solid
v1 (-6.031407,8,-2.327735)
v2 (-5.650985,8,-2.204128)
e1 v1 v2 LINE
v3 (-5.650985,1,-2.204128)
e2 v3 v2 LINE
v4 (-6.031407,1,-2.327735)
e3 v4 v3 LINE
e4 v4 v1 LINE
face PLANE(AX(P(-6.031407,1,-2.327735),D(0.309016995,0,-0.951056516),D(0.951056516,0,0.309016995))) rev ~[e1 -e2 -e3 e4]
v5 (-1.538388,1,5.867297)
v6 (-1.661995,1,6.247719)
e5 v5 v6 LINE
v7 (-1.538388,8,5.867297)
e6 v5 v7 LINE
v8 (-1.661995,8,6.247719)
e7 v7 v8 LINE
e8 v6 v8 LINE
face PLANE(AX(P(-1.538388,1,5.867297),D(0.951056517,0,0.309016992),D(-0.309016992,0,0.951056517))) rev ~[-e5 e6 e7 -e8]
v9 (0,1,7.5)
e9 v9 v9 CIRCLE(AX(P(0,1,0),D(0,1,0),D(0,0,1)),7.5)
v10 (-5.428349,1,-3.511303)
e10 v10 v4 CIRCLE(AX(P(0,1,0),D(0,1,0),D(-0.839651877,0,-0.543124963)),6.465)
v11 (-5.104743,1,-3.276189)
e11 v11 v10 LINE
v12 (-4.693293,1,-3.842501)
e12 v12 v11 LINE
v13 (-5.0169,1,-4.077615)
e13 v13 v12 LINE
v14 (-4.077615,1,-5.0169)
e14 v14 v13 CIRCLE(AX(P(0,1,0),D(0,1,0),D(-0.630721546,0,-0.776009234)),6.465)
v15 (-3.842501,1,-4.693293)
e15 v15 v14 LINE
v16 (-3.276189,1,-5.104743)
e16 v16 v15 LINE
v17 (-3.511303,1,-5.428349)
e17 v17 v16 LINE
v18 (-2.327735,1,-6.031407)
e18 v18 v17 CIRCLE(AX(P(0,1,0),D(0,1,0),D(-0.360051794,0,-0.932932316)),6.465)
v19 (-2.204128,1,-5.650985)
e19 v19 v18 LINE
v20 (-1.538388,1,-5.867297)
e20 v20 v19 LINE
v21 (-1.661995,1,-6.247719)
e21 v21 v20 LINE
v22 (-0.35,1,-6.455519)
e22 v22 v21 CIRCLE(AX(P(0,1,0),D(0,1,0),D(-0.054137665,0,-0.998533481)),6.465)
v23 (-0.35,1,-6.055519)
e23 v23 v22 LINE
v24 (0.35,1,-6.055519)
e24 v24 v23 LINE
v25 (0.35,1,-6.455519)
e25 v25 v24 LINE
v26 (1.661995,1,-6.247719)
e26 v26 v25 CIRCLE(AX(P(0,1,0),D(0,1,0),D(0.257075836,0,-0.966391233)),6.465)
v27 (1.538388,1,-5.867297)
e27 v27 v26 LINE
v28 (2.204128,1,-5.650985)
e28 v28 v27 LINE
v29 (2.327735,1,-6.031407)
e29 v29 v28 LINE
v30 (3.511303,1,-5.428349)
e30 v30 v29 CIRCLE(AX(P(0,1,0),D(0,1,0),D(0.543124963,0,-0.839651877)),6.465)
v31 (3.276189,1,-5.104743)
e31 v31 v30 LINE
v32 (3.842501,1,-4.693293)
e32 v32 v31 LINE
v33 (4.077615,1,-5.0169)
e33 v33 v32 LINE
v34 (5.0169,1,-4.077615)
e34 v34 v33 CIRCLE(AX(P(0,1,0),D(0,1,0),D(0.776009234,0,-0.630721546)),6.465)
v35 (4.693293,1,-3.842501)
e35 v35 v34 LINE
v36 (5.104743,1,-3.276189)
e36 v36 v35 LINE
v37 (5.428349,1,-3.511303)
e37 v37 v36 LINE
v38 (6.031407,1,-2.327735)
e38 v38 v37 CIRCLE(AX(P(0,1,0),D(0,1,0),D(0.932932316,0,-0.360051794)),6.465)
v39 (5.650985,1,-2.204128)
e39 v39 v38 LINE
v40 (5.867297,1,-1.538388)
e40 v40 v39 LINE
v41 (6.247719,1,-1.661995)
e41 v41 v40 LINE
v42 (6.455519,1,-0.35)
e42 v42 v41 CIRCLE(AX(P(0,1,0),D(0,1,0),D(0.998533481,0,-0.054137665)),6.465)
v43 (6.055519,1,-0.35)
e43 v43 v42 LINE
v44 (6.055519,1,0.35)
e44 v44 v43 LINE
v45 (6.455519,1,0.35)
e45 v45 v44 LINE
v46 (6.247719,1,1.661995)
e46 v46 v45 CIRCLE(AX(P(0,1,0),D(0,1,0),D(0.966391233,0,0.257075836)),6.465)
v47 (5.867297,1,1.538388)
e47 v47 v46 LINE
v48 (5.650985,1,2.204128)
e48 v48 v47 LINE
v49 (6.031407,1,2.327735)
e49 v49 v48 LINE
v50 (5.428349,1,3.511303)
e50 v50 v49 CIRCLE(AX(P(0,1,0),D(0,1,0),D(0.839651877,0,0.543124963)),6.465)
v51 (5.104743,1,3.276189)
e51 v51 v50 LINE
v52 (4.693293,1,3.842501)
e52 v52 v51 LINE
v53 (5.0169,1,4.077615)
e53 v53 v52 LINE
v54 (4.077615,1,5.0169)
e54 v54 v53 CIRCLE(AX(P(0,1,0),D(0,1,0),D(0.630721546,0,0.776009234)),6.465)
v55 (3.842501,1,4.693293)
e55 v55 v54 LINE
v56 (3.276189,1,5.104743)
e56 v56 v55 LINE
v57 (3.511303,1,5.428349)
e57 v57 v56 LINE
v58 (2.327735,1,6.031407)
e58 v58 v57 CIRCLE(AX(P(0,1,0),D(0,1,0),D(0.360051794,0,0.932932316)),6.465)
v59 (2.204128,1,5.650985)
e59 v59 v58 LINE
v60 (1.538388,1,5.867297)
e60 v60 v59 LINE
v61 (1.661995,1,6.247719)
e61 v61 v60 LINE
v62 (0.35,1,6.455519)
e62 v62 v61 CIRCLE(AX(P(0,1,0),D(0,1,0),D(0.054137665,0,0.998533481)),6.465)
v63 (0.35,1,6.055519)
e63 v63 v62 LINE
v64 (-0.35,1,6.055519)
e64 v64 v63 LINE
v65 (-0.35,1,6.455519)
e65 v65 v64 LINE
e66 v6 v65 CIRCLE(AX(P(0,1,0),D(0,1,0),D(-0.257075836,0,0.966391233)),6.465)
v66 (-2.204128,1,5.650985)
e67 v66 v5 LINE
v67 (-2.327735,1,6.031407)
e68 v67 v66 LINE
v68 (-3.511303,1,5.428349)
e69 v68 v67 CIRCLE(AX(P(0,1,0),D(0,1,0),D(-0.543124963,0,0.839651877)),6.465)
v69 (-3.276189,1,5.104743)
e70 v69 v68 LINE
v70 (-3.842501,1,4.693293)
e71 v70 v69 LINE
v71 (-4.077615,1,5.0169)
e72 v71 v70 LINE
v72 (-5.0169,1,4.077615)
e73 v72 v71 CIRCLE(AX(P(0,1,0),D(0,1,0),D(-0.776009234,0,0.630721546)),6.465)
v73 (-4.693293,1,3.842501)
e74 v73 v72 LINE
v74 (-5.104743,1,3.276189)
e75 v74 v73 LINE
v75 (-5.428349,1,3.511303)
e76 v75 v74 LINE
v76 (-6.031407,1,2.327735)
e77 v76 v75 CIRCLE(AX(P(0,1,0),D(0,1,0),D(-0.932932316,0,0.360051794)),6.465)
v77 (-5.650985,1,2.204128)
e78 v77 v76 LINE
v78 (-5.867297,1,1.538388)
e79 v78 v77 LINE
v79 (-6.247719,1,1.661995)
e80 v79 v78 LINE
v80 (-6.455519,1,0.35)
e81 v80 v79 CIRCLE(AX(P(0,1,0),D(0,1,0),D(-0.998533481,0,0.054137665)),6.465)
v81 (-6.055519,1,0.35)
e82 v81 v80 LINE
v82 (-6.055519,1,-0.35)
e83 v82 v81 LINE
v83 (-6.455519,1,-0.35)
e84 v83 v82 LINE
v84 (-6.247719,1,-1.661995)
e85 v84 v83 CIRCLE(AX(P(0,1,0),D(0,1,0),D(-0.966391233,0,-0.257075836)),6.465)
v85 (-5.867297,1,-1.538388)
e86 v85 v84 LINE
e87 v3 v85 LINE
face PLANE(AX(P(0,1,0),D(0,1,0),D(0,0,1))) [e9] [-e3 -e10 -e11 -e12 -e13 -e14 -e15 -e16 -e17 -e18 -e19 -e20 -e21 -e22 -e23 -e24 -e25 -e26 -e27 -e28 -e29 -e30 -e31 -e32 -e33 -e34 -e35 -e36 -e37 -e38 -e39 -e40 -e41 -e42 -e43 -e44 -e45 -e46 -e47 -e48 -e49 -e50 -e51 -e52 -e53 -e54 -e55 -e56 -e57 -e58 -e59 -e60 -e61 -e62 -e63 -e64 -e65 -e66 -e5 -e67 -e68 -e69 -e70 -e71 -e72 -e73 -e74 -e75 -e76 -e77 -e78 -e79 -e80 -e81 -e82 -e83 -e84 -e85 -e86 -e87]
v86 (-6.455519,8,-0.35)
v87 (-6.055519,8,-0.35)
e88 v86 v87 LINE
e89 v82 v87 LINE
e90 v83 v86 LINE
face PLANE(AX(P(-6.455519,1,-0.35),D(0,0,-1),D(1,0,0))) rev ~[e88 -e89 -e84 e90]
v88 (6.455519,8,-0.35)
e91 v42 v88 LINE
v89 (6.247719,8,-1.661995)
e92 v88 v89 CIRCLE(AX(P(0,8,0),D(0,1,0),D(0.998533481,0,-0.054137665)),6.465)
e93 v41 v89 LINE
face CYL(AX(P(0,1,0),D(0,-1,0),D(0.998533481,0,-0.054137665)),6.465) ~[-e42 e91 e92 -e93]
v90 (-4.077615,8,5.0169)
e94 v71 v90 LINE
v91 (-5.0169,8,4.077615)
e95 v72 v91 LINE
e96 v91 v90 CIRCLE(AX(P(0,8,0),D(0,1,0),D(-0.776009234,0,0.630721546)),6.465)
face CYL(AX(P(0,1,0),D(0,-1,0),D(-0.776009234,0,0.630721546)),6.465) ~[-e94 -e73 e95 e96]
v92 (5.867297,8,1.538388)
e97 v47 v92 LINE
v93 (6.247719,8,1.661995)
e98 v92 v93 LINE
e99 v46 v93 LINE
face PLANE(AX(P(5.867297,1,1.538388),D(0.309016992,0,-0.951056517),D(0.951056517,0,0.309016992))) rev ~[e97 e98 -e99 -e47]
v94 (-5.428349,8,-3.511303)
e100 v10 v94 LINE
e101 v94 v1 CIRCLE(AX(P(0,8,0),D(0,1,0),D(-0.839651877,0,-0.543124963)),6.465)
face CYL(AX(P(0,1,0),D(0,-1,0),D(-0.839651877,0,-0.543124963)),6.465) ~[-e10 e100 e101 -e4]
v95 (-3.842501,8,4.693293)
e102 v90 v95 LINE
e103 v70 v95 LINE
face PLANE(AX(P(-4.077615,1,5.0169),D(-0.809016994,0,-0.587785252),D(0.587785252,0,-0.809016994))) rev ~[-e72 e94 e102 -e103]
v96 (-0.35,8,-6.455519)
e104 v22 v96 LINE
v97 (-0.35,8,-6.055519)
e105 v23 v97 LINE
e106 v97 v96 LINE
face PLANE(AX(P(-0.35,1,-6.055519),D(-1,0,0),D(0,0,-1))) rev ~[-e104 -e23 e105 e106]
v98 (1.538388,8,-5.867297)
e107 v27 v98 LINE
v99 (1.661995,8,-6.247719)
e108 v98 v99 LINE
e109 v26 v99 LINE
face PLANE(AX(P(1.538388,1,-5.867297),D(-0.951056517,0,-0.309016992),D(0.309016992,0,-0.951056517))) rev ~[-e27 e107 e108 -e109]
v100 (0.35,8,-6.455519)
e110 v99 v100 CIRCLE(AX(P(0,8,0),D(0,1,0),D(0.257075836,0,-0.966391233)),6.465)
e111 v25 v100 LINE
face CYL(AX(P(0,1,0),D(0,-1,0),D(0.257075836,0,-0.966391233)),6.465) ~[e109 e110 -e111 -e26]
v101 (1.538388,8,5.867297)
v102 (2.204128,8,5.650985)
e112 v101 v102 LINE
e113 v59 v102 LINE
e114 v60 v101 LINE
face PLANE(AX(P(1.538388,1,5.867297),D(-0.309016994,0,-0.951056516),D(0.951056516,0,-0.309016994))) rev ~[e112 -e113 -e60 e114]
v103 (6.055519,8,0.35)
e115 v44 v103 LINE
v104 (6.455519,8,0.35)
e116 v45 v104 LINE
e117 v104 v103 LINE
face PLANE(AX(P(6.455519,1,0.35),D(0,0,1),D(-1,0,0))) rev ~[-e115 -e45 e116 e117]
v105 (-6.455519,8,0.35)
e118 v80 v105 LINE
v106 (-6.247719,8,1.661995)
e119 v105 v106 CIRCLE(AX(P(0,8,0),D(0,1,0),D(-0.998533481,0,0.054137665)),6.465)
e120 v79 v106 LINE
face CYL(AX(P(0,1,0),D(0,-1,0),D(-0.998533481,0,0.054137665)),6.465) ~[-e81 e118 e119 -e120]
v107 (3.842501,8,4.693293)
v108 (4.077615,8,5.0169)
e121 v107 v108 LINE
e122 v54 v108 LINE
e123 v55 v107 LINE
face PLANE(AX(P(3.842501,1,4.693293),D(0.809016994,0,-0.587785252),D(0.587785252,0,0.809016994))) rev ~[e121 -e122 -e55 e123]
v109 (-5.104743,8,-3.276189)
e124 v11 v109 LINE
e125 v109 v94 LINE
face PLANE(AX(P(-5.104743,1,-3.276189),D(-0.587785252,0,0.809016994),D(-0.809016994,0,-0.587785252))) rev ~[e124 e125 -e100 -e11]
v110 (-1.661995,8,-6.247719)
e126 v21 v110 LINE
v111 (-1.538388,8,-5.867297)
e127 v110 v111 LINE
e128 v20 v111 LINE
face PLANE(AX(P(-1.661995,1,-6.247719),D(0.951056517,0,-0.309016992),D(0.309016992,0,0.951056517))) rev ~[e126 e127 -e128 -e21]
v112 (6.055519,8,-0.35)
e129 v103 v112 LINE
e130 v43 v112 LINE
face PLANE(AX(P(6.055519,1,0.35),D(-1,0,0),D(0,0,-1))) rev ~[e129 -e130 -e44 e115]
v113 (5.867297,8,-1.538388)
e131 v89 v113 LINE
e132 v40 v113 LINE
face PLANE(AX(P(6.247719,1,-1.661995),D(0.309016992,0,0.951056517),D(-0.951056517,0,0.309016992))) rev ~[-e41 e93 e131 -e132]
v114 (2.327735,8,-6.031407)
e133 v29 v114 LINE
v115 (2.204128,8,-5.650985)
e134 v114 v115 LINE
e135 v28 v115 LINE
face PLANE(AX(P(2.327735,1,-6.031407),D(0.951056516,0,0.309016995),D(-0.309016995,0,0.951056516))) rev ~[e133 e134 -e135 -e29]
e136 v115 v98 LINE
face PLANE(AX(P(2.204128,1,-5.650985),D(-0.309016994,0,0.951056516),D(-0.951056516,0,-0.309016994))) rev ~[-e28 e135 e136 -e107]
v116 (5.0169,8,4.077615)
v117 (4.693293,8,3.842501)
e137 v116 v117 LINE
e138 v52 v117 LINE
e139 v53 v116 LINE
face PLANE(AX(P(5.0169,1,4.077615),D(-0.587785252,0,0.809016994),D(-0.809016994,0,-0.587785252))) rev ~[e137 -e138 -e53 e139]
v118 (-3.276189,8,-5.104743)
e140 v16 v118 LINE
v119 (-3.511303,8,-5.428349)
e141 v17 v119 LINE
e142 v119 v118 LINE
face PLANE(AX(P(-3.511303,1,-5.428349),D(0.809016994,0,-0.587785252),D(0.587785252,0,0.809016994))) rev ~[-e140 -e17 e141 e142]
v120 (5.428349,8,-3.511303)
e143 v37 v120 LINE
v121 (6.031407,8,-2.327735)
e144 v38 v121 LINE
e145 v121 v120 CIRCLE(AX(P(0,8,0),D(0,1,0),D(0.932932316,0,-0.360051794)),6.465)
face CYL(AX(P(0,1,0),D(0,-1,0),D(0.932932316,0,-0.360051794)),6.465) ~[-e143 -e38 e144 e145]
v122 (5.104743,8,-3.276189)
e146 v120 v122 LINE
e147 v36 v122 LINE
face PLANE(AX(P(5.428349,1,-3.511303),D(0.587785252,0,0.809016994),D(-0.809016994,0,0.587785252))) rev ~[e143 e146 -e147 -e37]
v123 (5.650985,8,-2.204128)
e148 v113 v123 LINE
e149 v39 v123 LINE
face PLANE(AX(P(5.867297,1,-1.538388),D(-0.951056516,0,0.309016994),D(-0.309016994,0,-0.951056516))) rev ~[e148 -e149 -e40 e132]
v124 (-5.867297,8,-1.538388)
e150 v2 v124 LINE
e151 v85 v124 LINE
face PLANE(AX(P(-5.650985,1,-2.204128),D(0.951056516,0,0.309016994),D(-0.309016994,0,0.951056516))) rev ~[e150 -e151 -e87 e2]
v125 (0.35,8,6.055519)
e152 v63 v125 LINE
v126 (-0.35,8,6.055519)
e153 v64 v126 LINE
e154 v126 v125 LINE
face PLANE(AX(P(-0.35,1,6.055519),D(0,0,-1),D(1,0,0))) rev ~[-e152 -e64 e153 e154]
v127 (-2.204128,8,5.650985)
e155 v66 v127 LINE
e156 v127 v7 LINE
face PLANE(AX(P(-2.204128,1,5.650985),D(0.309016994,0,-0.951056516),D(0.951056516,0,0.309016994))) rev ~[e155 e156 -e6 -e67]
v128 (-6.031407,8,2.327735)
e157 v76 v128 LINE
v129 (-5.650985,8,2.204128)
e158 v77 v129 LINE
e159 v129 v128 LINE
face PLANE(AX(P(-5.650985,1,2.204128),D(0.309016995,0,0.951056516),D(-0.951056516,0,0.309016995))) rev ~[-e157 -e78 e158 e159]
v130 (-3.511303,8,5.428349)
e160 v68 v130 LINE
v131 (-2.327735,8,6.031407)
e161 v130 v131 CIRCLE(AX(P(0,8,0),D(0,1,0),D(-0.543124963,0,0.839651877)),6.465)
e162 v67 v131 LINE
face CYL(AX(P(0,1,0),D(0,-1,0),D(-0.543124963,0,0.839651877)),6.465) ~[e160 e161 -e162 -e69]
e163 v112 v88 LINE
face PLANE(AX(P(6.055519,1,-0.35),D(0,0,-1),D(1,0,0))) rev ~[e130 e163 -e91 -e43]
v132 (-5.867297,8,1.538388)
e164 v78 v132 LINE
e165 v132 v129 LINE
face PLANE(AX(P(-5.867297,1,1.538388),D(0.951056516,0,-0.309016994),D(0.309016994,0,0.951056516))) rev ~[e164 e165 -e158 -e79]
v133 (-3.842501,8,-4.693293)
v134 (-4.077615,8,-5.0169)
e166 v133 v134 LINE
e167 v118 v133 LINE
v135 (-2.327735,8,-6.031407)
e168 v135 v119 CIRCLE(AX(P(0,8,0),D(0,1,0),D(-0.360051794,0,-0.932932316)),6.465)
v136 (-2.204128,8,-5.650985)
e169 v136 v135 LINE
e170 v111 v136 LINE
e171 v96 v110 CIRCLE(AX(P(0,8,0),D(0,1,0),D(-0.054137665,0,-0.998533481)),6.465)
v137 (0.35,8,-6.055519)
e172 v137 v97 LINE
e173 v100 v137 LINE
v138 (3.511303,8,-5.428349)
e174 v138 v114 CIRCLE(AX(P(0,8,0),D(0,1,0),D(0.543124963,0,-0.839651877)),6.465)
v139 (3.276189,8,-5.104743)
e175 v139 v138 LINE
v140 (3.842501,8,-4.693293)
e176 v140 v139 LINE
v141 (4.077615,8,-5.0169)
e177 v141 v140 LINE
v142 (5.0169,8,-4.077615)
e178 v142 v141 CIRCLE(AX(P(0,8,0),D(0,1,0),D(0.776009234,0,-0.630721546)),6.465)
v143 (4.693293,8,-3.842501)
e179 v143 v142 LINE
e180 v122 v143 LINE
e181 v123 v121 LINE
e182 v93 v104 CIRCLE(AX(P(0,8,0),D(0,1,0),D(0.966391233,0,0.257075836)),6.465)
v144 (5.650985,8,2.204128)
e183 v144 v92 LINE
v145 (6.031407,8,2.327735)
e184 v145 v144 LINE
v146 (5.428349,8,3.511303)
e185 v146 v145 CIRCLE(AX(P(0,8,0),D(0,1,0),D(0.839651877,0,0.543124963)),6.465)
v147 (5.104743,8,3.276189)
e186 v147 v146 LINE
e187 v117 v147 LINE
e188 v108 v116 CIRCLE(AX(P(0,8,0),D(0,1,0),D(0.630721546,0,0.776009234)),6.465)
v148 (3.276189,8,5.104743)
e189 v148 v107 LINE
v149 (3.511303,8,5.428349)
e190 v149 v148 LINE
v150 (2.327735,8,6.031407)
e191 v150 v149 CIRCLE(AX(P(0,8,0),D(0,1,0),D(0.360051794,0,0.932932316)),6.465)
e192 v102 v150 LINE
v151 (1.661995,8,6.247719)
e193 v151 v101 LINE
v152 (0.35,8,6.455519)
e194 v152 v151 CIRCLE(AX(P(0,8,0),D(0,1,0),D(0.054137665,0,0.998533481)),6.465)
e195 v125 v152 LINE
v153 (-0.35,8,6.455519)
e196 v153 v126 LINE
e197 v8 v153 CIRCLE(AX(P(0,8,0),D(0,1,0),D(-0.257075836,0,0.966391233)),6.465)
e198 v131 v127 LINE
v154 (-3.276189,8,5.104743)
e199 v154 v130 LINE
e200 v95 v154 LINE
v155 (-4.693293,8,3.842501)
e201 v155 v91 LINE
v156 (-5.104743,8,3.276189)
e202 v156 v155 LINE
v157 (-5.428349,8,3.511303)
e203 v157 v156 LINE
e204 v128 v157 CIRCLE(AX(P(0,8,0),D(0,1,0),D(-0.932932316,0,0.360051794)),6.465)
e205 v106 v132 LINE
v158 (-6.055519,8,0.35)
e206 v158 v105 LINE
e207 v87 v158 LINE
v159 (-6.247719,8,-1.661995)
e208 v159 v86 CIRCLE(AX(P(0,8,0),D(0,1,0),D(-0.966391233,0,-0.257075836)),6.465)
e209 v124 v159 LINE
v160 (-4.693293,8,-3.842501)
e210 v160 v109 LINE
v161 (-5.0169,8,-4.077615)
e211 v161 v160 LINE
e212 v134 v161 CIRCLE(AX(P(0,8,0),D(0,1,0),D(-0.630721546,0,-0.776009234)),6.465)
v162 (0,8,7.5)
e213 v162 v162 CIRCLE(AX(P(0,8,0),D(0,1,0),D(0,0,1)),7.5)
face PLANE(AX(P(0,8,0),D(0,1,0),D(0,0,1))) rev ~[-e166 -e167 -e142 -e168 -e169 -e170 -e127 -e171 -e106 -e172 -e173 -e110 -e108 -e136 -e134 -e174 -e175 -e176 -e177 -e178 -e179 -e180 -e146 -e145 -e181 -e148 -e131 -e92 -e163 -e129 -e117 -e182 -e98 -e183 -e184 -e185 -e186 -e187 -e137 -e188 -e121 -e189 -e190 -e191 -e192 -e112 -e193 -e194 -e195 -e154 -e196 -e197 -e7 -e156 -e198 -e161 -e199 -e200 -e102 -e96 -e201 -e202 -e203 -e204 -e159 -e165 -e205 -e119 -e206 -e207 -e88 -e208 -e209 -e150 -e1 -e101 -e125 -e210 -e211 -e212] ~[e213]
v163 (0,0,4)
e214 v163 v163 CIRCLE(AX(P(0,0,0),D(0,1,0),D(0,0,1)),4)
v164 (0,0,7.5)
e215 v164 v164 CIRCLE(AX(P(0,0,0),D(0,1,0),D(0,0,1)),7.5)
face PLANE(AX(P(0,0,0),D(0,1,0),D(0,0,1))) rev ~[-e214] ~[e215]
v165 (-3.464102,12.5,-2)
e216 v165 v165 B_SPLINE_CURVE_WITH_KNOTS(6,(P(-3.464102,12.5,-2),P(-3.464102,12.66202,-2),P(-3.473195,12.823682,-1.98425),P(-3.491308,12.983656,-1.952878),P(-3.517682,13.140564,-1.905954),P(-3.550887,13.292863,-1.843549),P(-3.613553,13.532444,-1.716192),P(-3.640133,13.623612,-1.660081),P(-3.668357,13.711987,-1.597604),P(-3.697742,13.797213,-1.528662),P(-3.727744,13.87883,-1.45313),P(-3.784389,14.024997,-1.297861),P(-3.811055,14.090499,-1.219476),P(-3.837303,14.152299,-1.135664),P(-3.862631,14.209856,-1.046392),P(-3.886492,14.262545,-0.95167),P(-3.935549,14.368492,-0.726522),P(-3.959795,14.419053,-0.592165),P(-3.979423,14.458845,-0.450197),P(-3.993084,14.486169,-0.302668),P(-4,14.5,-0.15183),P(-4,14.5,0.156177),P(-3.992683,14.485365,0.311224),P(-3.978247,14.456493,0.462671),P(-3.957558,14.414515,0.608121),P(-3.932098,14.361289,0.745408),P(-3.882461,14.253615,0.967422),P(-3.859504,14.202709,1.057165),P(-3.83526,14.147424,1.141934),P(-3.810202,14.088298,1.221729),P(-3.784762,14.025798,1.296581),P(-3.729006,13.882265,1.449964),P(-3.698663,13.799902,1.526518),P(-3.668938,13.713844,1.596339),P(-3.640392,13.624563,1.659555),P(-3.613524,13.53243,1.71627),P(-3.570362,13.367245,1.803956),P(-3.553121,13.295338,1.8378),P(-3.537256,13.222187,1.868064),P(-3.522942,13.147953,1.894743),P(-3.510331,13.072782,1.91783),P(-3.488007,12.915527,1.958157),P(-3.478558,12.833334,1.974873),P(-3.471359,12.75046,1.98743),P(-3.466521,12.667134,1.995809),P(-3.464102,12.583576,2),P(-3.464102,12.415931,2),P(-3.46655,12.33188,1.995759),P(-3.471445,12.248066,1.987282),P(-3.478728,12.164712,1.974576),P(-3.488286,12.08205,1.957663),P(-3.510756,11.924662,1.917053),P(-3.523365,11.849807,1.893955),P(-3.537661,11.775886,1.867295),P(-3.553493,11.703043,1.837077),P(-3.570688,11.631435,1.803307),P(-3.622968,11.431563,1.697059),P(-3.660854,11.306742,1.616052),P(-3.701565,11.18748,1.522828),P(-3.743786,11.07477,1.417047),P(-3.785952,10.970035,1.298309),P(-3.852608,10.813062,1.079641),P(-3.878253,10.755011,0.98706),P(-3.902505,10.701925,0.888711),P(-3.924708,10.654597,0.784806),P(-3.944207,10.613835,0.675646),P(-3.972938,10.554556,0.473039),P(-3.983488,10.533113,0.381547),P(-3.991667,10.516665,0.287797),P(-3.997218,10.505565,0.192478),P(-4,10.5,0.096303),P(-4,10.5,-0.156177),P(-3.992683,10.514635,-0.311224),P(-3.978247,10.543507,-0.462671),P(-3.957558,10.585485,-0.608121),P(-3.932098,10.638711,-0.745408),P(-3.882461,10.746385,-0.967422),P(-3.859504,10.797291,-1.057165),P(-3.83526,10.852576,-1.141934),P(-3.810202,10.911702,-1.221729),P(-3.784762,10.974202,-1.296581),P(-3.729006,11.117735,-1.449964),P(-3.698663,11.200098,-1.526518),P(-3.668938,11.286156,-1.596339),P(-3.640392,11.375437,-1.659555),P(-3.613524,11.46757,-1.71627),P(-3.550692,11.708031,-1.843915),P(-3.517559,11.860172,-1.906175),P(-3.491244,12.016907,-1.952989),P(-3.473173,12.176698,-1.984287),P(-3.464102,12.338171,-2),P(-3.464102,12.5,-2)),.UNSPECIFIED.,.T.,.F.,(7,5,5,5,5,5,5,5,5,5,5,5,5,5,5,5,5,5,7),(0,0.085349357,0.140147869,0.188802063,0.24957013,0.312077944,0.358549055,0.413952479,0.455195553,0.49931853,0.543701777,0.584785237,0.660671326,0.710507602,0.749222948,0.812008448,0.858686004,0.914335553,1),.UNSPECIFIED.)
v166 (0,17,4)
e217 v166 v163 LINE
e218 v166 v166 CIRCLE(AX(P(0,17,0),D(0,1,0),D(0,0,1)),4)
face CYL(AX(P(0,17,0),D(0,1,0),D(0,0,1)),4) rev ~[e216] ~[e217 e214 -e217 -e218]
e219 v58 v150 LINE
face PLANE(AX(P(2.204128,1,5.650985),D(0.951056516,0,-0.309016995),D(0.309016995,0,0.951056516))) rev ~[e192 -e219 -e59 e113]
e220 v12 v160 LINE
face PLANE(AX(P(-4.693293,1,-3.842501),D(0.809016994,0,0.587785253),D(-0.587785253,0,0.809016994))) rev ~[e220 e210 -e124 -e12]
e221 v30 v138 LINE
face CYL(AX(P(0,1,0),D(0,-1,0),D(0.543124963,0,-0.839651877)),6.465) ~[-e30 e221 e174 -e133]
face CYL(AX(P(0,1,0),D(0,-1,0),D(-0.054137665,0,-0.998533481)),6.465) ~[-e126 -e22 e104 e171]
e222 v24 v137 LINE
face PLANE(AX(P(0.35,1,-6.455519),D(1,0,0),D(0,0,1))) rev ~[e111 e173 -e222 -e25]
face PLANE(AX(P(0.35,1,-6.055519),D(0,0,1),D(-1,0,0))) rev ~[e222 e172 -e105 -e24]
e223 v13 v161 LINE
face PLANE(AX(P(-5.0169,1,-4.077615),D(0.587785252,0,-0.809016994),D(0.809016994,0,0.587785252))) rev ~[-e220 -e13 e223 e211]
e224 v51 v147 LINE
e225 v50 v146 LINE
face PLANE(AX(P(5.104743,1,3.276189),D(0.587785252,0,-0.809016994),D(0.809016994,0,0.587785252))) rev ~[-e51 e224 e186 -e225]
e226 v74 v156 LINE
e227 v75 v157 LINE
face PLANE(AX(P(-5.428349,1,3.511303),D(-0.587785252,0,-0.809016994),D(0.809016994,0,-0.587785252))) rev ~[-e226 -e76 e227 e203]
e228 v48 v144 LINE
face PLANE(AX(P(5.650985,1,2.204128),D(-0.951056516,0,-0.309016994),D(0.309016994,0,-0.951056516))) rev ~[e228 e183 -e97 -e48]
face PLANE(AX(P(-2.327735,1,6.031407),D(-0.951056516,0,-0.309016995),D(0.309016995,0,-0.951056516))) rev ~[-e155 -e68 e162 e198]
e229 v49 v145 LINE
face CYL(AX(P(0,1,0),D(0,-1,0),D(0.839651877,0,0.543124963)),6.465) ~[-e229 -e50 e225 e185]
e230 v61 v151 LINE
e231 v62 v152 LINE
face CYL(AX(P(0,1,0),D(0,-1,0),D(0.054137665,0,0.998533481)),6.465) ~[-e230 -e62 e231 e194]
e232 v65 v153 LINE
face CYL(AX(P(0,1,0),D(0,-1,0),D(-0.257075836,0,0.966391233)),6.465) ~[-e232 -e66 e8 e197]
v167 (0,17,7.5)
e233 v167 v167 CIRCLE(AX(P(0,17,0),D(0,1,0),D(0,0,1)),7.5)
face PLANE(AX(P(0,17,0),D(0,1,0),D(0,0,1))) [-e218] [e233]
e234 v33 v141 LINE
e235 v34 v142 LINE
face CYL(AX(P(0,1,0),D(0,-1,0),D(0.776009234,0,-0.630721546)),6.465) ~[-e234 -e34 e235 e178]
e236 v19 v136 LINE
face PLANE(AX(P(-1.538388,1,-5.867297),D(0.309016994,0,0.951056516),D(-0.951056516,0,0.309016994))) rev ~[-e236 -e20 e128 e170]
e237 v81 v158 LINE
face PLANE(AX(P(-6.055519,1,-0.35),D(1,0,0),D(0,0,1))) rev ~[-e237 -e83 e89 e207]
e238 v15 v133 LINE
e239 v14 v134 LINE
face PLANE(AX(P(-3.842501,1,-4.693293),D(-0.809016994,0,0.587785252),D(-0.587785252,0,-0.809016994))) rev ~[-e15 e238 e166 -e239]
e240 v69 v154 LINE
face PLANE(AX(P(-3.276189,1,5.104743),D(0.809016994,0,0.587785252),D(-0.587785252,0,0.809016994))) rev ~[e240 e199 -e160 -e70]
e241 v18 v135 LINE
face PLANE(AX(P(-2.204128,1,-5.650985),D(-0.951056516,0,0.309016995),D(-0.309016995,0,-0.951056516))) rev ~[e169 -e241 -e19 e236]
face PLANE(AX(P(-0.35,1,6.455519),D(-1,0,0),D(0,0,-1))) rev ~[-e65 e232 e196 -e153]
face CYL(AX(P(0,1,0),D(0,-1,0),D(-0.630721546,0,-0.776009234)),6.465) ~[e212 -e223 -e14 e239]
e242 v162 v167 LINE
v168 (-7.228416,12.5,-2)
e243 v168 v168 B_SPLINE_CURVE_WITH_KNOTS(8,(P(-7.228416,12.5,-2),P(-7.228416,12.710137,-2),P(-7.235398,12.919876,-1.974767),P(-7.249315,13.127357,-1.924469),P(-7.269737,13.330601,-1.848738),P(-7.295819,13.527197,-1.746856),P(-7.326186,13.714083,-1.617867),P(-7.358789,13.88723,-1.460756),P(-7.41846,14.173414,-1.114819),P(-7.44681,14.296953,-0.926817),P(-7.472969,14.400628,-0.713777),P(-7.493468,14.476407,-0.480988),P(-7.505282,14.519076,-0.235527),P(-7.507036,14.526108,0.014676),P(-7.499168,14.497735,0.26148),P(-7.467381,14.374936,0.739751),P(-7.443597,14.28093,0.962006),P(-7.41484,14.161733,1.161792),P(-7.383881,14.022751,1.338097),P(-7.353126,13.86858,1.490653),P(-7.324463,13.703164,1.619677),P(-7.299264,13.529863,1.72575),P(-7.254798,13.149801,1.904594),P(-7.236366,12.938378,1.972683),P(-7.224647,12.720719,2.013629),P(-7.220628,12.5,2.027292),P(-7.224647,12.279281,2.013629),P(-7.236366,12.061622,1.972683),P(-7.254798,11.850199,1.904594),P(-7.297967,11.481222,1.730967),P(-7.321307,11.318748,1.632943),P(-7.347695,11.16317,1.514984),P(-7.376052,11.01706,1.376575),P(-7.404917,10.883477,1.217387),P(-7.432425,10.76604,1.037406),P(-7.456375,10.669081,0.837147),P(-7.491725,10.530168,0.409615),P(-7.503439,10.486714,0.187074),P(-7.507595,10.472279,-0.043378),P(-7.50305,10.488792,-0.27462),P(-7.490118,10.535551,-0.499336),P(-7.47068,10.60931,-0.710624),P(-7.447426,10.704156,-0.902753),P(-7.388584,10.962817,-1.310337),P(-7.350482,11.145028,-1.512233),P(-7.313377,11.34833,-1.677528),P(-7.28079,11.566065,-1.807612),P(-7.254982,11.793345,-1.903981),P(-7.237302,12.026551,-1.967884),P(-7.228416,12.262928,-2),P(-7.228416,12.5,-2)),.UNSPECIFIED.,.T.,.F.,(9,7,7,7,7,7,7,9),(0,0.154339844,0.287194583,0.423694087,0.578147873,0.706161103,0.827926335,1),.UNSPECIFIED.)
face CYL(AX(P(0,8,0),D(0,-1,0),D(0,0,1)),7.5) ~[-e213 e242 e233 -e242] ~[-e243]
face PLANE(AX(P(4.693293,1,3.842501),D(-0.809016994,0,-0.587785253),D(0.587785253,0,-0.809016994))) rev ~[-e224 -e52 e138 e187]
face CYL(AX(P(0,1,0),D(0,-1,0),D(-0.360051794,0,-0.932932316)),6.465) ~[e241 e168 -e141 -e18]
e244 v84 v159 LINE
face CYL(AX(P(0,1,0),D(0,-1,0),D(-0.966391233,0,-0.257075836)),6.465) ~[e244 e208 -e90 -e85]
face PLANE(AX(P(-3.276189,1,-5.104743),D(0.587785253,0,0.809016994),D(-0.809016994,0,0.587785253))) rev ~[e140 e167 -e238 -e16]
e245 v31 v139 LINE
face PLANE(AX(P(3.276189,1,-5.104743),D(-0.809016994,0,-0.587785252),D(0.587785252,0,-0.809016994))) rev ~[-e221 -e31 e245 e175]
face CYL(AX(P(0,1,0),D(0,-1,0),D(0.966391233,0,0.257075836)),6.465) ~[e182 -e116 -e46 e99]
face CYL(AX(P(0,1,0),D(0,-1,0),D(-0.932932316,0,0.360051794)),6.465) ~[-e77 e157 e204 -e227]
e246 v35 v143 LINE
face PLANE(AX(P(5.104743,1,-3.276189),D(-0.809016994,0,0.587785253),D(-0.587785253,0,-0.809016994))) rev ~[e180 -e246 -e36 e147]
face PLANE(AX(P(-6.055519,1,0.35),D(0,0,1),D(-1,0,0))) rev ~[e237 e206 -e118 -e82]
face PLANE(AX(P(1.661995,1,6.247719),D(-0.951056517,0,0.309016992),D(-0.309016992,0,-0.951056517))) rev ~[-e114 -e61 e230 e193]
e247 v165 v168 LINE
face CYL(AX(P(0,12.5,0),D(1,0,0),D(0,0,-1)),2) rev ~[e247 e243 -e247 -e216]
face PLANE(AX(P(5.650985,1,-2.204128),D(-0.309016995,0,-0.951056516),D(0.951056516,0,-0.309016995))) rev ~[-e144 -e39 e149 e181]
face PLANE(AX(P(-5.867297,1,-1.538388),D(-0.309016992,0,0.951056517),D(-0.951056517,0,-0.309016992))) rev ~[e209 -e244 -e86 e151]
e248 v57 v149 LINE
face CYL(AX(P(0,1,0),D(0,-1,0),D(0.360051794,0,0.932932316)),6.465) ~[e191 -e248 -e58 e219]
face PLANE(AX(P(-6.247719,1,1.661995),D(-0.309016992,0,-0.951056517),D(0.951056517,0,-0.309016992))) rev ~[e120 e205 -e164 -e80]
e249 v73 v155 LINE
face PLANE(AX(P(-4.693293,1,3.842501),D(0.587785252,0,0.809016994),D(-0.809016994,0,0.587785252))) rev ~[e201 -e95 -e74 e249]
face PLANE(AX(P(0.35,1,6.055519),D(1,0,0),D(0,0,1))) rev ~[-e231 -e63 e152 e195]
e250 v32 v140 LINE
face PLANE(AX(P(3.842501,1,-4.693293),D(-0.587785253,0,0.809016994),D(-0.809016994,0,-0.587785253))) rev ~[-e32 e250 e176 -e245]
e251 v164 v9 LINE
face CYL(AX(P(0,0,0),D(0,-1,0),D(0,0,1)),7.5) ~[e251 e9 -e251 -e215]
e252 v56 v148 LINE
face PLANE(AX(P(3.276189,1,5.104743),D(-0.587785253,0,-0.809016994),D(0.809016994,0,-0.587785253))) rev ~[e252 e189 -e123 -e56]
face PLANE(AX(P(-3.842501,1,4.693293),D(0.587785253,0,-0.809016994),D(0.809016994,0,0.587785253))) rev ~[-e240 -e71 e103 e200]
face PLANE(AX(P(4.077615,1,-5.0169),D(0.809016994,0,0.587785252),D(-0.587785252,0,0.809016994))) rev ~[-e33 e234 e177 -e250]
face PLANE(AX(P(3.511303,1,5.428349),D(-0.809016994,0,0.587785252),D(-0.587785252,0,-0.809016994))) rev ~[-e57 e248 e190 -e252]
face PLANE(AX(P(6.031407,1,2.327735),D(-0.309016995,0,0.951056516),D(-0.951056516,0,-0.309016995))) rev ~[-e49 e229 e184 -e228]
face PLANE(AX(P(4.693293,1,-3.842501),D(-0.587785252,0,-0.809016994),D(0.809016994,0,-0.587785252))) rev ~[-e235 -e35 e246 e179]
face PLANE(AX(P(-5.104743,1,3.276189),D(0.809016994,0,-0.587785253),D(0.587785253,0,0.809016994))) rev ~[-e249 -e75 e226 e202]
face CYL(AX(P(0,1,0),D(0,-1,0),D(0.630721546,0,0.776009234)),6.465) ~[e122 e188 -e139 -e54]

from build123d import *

# Parameters (mm, degrees)
SKETCH_1_R               = 7.5
EXTRUDE_1_DEPTH          = 1
EXTRUDE_2_DEPTH          = 7
SKETCH_3_R               = 7.5
EXTRUDE_3_DEPTH          = 9
CUT_EXTRUDE_1_REACH      = 22.037
SKETCH_4_R               = 4
CUT_EXTRUDE_2_REACH      = 22.037
CUT_EXTRUDE_2_END_RADIUS = 7.5
SKETCH_5_R               = 2


with BuildPart() as part:
    # 草图1 → 凸台-拉伸1 (new body)
    with BuildSketch(Plane(origin=(0, 0, 0), x_dir=(1, 0, 0), z_dir=(0, 1, 0))):
        with Locations(Location((0, 0, 0), (0, 0, 270))):
            Circle(SKETCH_1_R)
    extrude(amount=EXTRUDE_1_DEPTH)

    # 草图2 → 凸台-拉伸2 (add)
    with BuildSketch(Plane(origin=(0, 1, 0), x_dir=(1, 0, 0), z_dir=(0, 1, 0))):
        with BuildLine():
            Line((-0.35, 6.055518957), (-0.35, 6.455518957))
            ThreePointArc((-0.35, 6.455518957), (-1.011348816, 6.385405122), (-1.661995284, 6.247719318))
            Line((-1.661995284, 6.247719318), (-1.538388487, 5.867296711))
            Line((-1.538388487, 5.867296711), (-2.204128048, 5.650984815))
            Line((-2.204128048, 5.650984815), (-2.327734846, 6.031407422))
            ThreePointArc((-2.327734846, 6.031407422), (-2.935048581, 5.760357179), (-3.511302891, 5.428349382))
            Line((-3.511302891, 5.428349382), (-3.27618879, 5.104742584))
            Line((-3.27618879, 5.104742584), (-3.842500686, 4.693292907))
            Line((-3.842500686, 4.693292907), (-4.077614787, 5.016899705))
            ThreePointArc((-4.077614787, 5.016899705), (-4.57144534, 4.57144534), (-5.016899705, 4.077614787))
            Line((-5.016899705, 4.077614787), (-4.693292907, 3.842500686))
            Line((-4.693292907, 3.842500686), (-5.104742584, 3.27618879))
            Line((-5.104742584, 3.27618879), (-5.428349382, 3.511302891))
            ThreePointArc((-5.428349382, 3.511302891), (-5.760357179, 2.935048581), (-6.031407422, 2.327734846))
            Line((-6.031407422, 2.327734846), (-5.650984815, 2.204128048))
            Line((-5.650984815, 2.204128048), (-5.867296711, 1.538388487))
            Line((-5.867296711, 1.538388487), (-6.247719318, 1.661995284))
            ThreePointArc((-6.247719318, 1.661995284), (-6.385405122, 1.011348816), (-6.455518957, 0.35))
            Line((-6.455518957, 0.35), (-6.055518957, 0.35))
            Line((-6.055518957, 0.35), (-6.055518957, -0.35))
            Line((-6.055518957, -0.35), (-6.455518957, -0.35))
            ThreePointArc((-6.455518957, -0.35), (-6.385405122, -1.011348816), (-6.247719318, -1.661995284))
            Line((-6.247719318, -1.661995284), (-5.867296711, -1.538388487))
            Line((-5.867296711, -1.538388487), (-5.650984815, -2.204128048))
            Line((-5.650984815, -2.204128048), (-6.031407422, -2.327734846))
            ThreePointArc((-6.031407422, -2.327734846), (-5.760357179, -2.935048581), (-5.428349382, -3.511302891))
            Line((-5.428349382, -3.511302891), (-5.104742584, -3.27618879))
            Line((-5.104742584, -3.27618879), (-4.693292907, -3.842500686))
            Line((-4.693292907, -3.842500686), (-5.016899705, -4.077614787))
            ThreePointArc((-5.016899705, -4.077614787), (-4.57144534, -4.57144534), (-4.077614787, -5.016899705))
            Line((-4.077614787, -5.016899705), (-3.842500686, -4.693292907))
            Line((-3.842500686, -4.693292907), (-3.27618879, -5.104742584))
            Line((-3.27618879, -5.104742584), (-3.511302891, -5.428349382))
            ThreePointArc((-3.511302891, -5.428349382), (-2.935048581, -5.760357179), (-2.327734846, -6.031407422))
            Line((-2.327734846, -6.031407422), (-2.204128048, -5.650984815))
            Line((-2.204128048, -5.650984815), (-1.538388487, -5.867296711))
            Line((-1.538388487, -5.867296711), (-1.661995284, -6.247719318))
            ThreePointArc((-1.661995284, -6.247719318), (-1.011348816, -6.385405122), (-0.35, -6.455518957))
            Line((-0.35, -6.455518957), (-0.35, -6.055518957))
            Line((-0.35, -6.055518957), (0.35, -6.055518957))
            Line((0.35, -6.055518957), (0.35, -6.455518957))
            ThreePointArc((0.35, -6.455518957), (1.011348816, -6.385405122), (1.661995284, -6.247719318))
            Line((1.661995284, -6.247719318), (1.538388487, -5.867296711))
            Line((1.538388487, -5.867296711), (2.204128048, -5.650984815))
            Line((2.204128048, -5.650984815), (2.327734846, -6.031407422))
            ThreePointArc((2.327734846, -6.031407422), (2.935048581, -5.760357179), (3.511302891, -5.428349382))
            Line((3.511302891, -5.428349382), (3.27618879, -5.104742584))
            Line((3.27618879, -5.104742584), (3.842500686, -4.693292907))
            Line((3.842500686, -4.693292907), (4.077614787, -5.016899705))
            ThreePointArc((4.077614787, -5.016899705), (4.57144534, -4.57144534), (5.016899705, -4.077614787))
            Line((5.016899705, -4.077614787), (4.693292907, -3.842500686))
            Line((4.693292907, -3.842500686), (5.104742584, -3.27618879))
            Line((5.104742584, -3.27618879), (5.428349382, -3.511302891))
            ThreePointArc((5.428349382, -3.511302891), (5.760357179, -2.935048581), (6.031407422, -2.327734846))
            Line((6.031407422, -2.327734846), (5.650984815, -2.204128048))
            Line((5.650984815, -2.204128048), (5.867296711, -1.538388487))
            Line((5.867296711, -1.538388487), (6.247719318, -1.661995284))
            ThreePointArc((6.247719318, -1.661995284), (6.385405122, -1.011348816), (6.455518957, -0.35))
            Line((6.455518957, -0.35), (6.055518957, -0.35))
            Line((6.055518957, -0.35), (6.055518957, 0.35))
            Line((6.055518957, 0.35), (6.455518957, 0.35))
            ThreePointArc((6.455518957, 0.35), (6.385405122, 1.011348816), (6.247719318, 1.661995284))
            Line((6.247719318, 1.661995284), (5.867296711, 1.538388487))
            Line((5.867296711, 1.538388487), (5.650984815, 2.204128048))
            Line((5.650984815, 2.204128048), (6.031407422, 2.327734846))
            ThreePointArc((6.031407422, 2.327734846), (5.760357179, 2.935048581), (5.428349382, 3.511302891))
            Line((5.428349382, 3.511302891), (5.104742584, 3.27618879))
            Line((5.104742584, 3.27618879), (4.693292907, 3.842500686))
            Line((4.693292907, 3.842500686), (5.016899705, 4.077614787))
            ThreePointArc((5.016899705, 4.077614787), (4.57144534, 4.57144534), (4.077614787, 5.016899705))
            Line((4.077614787, 5.016899705), (3.842500686, 4.693292907))
            Line((3.842500686, 4.693292907), (3.27618879, 5.104742584))
            Line((3.27618879, 5.104742584), (3.511302891, 5.428349382))
            ThreePointArc((3.511302891, 5.428349382), (2.935048581, 5.760357179), (2.327734846, 6.031407422))
            Line((2.327734846, 6.031407422), (2.204128048, 5.650984815))
            Line((2.204128048, 5.650984815), (1.538388487, 5.867296711))
            Line((1.538388487, 5.867296711), (1.661995284, 6.247719318))
            ThreePointArc((1.661995284, 6.247719318), (1.011348816, 6.385405122), (0.35, 6.455518957))
            Line((0.35, 6.455518957), (0.35, 6.055518957))
            Line((0.35, 6.055518957), (-0.35, 6.055518957))
        make_face()
    extrude(amount=EXTRUDE_2_DEPTH)

    # 草图3 → 凸台-拉伸3 (add)
    with BuildSketch(Plane(origin=(0, 8, 0), x_dir=(1, 0, 0), z_dir=(0, 1, 0))):
        with Locations(Location((0, 0, 0), (0, 0, 270))):
            Circle(SKETCH_3_R)
    extrude(amount=EXTRUDE_3_DEPTH)

    # 草图4 → 切除-拉伸1 (cut, up to next)
    with BuildSketch(Plane(origin=(0, 17, 0), x_dir=(1, 0, 0), z_dir=(0, 1, 0)), mode=Mode.PRIVATE) as cut_extrude_1_sk1:
        with Locations(Location((0, 0, 0), (0, 0, 270))):
            Circle(SKETCH_4_R)
    cut_extrude_1_tool1 = extrude(cut_extrude_1_sk1.sketch, amount=-CUT_EXTRUDE_1_REACH, mode=Mode.PRIVATE) & part.part
    add(cut_extrude_1_tool1.solids().sort_by_distance((0, 17, 0))[0], mode=Mode.SUBTRACT)

    # 切除-拉伸2: up to this cylinder (the profile starts inside it)
    cut_extrude_2_end = Plane(origin=(0, 12.5, 0), z_dir=(0, -1, 0)) * Cylinder(CUT_EXTRUDE_2_END_RADIUS, 60.074, mode=Mode.PRIVATE)
    # 草图5 → 切除-拉伸2 (cut, up to the surface)
    with BuildSketch(Plane(origin=(0, 0, 0), x_dir=(0, 0, -1), z_dir=(1, 0, 0)), mode=Mode.PRIVATE) as cut_extrude_2_sk1:
        with Locations((0, 12.5)):
            Circle(SKETCH_5_R)
    cut_extrude_2_tool1 = extrude(cut_extrude_2_sk1.sketch, amount=-CUT_EXTRUDE_2_REACH, mode=Mode.PRIVATE) & cut_extrude_2_end
    add(cut_extrude_2_tool1.solids().sort_by_distance((0, 12.5, 0))[0], mode=Mode.SUBTRACT)


solid = part.part
